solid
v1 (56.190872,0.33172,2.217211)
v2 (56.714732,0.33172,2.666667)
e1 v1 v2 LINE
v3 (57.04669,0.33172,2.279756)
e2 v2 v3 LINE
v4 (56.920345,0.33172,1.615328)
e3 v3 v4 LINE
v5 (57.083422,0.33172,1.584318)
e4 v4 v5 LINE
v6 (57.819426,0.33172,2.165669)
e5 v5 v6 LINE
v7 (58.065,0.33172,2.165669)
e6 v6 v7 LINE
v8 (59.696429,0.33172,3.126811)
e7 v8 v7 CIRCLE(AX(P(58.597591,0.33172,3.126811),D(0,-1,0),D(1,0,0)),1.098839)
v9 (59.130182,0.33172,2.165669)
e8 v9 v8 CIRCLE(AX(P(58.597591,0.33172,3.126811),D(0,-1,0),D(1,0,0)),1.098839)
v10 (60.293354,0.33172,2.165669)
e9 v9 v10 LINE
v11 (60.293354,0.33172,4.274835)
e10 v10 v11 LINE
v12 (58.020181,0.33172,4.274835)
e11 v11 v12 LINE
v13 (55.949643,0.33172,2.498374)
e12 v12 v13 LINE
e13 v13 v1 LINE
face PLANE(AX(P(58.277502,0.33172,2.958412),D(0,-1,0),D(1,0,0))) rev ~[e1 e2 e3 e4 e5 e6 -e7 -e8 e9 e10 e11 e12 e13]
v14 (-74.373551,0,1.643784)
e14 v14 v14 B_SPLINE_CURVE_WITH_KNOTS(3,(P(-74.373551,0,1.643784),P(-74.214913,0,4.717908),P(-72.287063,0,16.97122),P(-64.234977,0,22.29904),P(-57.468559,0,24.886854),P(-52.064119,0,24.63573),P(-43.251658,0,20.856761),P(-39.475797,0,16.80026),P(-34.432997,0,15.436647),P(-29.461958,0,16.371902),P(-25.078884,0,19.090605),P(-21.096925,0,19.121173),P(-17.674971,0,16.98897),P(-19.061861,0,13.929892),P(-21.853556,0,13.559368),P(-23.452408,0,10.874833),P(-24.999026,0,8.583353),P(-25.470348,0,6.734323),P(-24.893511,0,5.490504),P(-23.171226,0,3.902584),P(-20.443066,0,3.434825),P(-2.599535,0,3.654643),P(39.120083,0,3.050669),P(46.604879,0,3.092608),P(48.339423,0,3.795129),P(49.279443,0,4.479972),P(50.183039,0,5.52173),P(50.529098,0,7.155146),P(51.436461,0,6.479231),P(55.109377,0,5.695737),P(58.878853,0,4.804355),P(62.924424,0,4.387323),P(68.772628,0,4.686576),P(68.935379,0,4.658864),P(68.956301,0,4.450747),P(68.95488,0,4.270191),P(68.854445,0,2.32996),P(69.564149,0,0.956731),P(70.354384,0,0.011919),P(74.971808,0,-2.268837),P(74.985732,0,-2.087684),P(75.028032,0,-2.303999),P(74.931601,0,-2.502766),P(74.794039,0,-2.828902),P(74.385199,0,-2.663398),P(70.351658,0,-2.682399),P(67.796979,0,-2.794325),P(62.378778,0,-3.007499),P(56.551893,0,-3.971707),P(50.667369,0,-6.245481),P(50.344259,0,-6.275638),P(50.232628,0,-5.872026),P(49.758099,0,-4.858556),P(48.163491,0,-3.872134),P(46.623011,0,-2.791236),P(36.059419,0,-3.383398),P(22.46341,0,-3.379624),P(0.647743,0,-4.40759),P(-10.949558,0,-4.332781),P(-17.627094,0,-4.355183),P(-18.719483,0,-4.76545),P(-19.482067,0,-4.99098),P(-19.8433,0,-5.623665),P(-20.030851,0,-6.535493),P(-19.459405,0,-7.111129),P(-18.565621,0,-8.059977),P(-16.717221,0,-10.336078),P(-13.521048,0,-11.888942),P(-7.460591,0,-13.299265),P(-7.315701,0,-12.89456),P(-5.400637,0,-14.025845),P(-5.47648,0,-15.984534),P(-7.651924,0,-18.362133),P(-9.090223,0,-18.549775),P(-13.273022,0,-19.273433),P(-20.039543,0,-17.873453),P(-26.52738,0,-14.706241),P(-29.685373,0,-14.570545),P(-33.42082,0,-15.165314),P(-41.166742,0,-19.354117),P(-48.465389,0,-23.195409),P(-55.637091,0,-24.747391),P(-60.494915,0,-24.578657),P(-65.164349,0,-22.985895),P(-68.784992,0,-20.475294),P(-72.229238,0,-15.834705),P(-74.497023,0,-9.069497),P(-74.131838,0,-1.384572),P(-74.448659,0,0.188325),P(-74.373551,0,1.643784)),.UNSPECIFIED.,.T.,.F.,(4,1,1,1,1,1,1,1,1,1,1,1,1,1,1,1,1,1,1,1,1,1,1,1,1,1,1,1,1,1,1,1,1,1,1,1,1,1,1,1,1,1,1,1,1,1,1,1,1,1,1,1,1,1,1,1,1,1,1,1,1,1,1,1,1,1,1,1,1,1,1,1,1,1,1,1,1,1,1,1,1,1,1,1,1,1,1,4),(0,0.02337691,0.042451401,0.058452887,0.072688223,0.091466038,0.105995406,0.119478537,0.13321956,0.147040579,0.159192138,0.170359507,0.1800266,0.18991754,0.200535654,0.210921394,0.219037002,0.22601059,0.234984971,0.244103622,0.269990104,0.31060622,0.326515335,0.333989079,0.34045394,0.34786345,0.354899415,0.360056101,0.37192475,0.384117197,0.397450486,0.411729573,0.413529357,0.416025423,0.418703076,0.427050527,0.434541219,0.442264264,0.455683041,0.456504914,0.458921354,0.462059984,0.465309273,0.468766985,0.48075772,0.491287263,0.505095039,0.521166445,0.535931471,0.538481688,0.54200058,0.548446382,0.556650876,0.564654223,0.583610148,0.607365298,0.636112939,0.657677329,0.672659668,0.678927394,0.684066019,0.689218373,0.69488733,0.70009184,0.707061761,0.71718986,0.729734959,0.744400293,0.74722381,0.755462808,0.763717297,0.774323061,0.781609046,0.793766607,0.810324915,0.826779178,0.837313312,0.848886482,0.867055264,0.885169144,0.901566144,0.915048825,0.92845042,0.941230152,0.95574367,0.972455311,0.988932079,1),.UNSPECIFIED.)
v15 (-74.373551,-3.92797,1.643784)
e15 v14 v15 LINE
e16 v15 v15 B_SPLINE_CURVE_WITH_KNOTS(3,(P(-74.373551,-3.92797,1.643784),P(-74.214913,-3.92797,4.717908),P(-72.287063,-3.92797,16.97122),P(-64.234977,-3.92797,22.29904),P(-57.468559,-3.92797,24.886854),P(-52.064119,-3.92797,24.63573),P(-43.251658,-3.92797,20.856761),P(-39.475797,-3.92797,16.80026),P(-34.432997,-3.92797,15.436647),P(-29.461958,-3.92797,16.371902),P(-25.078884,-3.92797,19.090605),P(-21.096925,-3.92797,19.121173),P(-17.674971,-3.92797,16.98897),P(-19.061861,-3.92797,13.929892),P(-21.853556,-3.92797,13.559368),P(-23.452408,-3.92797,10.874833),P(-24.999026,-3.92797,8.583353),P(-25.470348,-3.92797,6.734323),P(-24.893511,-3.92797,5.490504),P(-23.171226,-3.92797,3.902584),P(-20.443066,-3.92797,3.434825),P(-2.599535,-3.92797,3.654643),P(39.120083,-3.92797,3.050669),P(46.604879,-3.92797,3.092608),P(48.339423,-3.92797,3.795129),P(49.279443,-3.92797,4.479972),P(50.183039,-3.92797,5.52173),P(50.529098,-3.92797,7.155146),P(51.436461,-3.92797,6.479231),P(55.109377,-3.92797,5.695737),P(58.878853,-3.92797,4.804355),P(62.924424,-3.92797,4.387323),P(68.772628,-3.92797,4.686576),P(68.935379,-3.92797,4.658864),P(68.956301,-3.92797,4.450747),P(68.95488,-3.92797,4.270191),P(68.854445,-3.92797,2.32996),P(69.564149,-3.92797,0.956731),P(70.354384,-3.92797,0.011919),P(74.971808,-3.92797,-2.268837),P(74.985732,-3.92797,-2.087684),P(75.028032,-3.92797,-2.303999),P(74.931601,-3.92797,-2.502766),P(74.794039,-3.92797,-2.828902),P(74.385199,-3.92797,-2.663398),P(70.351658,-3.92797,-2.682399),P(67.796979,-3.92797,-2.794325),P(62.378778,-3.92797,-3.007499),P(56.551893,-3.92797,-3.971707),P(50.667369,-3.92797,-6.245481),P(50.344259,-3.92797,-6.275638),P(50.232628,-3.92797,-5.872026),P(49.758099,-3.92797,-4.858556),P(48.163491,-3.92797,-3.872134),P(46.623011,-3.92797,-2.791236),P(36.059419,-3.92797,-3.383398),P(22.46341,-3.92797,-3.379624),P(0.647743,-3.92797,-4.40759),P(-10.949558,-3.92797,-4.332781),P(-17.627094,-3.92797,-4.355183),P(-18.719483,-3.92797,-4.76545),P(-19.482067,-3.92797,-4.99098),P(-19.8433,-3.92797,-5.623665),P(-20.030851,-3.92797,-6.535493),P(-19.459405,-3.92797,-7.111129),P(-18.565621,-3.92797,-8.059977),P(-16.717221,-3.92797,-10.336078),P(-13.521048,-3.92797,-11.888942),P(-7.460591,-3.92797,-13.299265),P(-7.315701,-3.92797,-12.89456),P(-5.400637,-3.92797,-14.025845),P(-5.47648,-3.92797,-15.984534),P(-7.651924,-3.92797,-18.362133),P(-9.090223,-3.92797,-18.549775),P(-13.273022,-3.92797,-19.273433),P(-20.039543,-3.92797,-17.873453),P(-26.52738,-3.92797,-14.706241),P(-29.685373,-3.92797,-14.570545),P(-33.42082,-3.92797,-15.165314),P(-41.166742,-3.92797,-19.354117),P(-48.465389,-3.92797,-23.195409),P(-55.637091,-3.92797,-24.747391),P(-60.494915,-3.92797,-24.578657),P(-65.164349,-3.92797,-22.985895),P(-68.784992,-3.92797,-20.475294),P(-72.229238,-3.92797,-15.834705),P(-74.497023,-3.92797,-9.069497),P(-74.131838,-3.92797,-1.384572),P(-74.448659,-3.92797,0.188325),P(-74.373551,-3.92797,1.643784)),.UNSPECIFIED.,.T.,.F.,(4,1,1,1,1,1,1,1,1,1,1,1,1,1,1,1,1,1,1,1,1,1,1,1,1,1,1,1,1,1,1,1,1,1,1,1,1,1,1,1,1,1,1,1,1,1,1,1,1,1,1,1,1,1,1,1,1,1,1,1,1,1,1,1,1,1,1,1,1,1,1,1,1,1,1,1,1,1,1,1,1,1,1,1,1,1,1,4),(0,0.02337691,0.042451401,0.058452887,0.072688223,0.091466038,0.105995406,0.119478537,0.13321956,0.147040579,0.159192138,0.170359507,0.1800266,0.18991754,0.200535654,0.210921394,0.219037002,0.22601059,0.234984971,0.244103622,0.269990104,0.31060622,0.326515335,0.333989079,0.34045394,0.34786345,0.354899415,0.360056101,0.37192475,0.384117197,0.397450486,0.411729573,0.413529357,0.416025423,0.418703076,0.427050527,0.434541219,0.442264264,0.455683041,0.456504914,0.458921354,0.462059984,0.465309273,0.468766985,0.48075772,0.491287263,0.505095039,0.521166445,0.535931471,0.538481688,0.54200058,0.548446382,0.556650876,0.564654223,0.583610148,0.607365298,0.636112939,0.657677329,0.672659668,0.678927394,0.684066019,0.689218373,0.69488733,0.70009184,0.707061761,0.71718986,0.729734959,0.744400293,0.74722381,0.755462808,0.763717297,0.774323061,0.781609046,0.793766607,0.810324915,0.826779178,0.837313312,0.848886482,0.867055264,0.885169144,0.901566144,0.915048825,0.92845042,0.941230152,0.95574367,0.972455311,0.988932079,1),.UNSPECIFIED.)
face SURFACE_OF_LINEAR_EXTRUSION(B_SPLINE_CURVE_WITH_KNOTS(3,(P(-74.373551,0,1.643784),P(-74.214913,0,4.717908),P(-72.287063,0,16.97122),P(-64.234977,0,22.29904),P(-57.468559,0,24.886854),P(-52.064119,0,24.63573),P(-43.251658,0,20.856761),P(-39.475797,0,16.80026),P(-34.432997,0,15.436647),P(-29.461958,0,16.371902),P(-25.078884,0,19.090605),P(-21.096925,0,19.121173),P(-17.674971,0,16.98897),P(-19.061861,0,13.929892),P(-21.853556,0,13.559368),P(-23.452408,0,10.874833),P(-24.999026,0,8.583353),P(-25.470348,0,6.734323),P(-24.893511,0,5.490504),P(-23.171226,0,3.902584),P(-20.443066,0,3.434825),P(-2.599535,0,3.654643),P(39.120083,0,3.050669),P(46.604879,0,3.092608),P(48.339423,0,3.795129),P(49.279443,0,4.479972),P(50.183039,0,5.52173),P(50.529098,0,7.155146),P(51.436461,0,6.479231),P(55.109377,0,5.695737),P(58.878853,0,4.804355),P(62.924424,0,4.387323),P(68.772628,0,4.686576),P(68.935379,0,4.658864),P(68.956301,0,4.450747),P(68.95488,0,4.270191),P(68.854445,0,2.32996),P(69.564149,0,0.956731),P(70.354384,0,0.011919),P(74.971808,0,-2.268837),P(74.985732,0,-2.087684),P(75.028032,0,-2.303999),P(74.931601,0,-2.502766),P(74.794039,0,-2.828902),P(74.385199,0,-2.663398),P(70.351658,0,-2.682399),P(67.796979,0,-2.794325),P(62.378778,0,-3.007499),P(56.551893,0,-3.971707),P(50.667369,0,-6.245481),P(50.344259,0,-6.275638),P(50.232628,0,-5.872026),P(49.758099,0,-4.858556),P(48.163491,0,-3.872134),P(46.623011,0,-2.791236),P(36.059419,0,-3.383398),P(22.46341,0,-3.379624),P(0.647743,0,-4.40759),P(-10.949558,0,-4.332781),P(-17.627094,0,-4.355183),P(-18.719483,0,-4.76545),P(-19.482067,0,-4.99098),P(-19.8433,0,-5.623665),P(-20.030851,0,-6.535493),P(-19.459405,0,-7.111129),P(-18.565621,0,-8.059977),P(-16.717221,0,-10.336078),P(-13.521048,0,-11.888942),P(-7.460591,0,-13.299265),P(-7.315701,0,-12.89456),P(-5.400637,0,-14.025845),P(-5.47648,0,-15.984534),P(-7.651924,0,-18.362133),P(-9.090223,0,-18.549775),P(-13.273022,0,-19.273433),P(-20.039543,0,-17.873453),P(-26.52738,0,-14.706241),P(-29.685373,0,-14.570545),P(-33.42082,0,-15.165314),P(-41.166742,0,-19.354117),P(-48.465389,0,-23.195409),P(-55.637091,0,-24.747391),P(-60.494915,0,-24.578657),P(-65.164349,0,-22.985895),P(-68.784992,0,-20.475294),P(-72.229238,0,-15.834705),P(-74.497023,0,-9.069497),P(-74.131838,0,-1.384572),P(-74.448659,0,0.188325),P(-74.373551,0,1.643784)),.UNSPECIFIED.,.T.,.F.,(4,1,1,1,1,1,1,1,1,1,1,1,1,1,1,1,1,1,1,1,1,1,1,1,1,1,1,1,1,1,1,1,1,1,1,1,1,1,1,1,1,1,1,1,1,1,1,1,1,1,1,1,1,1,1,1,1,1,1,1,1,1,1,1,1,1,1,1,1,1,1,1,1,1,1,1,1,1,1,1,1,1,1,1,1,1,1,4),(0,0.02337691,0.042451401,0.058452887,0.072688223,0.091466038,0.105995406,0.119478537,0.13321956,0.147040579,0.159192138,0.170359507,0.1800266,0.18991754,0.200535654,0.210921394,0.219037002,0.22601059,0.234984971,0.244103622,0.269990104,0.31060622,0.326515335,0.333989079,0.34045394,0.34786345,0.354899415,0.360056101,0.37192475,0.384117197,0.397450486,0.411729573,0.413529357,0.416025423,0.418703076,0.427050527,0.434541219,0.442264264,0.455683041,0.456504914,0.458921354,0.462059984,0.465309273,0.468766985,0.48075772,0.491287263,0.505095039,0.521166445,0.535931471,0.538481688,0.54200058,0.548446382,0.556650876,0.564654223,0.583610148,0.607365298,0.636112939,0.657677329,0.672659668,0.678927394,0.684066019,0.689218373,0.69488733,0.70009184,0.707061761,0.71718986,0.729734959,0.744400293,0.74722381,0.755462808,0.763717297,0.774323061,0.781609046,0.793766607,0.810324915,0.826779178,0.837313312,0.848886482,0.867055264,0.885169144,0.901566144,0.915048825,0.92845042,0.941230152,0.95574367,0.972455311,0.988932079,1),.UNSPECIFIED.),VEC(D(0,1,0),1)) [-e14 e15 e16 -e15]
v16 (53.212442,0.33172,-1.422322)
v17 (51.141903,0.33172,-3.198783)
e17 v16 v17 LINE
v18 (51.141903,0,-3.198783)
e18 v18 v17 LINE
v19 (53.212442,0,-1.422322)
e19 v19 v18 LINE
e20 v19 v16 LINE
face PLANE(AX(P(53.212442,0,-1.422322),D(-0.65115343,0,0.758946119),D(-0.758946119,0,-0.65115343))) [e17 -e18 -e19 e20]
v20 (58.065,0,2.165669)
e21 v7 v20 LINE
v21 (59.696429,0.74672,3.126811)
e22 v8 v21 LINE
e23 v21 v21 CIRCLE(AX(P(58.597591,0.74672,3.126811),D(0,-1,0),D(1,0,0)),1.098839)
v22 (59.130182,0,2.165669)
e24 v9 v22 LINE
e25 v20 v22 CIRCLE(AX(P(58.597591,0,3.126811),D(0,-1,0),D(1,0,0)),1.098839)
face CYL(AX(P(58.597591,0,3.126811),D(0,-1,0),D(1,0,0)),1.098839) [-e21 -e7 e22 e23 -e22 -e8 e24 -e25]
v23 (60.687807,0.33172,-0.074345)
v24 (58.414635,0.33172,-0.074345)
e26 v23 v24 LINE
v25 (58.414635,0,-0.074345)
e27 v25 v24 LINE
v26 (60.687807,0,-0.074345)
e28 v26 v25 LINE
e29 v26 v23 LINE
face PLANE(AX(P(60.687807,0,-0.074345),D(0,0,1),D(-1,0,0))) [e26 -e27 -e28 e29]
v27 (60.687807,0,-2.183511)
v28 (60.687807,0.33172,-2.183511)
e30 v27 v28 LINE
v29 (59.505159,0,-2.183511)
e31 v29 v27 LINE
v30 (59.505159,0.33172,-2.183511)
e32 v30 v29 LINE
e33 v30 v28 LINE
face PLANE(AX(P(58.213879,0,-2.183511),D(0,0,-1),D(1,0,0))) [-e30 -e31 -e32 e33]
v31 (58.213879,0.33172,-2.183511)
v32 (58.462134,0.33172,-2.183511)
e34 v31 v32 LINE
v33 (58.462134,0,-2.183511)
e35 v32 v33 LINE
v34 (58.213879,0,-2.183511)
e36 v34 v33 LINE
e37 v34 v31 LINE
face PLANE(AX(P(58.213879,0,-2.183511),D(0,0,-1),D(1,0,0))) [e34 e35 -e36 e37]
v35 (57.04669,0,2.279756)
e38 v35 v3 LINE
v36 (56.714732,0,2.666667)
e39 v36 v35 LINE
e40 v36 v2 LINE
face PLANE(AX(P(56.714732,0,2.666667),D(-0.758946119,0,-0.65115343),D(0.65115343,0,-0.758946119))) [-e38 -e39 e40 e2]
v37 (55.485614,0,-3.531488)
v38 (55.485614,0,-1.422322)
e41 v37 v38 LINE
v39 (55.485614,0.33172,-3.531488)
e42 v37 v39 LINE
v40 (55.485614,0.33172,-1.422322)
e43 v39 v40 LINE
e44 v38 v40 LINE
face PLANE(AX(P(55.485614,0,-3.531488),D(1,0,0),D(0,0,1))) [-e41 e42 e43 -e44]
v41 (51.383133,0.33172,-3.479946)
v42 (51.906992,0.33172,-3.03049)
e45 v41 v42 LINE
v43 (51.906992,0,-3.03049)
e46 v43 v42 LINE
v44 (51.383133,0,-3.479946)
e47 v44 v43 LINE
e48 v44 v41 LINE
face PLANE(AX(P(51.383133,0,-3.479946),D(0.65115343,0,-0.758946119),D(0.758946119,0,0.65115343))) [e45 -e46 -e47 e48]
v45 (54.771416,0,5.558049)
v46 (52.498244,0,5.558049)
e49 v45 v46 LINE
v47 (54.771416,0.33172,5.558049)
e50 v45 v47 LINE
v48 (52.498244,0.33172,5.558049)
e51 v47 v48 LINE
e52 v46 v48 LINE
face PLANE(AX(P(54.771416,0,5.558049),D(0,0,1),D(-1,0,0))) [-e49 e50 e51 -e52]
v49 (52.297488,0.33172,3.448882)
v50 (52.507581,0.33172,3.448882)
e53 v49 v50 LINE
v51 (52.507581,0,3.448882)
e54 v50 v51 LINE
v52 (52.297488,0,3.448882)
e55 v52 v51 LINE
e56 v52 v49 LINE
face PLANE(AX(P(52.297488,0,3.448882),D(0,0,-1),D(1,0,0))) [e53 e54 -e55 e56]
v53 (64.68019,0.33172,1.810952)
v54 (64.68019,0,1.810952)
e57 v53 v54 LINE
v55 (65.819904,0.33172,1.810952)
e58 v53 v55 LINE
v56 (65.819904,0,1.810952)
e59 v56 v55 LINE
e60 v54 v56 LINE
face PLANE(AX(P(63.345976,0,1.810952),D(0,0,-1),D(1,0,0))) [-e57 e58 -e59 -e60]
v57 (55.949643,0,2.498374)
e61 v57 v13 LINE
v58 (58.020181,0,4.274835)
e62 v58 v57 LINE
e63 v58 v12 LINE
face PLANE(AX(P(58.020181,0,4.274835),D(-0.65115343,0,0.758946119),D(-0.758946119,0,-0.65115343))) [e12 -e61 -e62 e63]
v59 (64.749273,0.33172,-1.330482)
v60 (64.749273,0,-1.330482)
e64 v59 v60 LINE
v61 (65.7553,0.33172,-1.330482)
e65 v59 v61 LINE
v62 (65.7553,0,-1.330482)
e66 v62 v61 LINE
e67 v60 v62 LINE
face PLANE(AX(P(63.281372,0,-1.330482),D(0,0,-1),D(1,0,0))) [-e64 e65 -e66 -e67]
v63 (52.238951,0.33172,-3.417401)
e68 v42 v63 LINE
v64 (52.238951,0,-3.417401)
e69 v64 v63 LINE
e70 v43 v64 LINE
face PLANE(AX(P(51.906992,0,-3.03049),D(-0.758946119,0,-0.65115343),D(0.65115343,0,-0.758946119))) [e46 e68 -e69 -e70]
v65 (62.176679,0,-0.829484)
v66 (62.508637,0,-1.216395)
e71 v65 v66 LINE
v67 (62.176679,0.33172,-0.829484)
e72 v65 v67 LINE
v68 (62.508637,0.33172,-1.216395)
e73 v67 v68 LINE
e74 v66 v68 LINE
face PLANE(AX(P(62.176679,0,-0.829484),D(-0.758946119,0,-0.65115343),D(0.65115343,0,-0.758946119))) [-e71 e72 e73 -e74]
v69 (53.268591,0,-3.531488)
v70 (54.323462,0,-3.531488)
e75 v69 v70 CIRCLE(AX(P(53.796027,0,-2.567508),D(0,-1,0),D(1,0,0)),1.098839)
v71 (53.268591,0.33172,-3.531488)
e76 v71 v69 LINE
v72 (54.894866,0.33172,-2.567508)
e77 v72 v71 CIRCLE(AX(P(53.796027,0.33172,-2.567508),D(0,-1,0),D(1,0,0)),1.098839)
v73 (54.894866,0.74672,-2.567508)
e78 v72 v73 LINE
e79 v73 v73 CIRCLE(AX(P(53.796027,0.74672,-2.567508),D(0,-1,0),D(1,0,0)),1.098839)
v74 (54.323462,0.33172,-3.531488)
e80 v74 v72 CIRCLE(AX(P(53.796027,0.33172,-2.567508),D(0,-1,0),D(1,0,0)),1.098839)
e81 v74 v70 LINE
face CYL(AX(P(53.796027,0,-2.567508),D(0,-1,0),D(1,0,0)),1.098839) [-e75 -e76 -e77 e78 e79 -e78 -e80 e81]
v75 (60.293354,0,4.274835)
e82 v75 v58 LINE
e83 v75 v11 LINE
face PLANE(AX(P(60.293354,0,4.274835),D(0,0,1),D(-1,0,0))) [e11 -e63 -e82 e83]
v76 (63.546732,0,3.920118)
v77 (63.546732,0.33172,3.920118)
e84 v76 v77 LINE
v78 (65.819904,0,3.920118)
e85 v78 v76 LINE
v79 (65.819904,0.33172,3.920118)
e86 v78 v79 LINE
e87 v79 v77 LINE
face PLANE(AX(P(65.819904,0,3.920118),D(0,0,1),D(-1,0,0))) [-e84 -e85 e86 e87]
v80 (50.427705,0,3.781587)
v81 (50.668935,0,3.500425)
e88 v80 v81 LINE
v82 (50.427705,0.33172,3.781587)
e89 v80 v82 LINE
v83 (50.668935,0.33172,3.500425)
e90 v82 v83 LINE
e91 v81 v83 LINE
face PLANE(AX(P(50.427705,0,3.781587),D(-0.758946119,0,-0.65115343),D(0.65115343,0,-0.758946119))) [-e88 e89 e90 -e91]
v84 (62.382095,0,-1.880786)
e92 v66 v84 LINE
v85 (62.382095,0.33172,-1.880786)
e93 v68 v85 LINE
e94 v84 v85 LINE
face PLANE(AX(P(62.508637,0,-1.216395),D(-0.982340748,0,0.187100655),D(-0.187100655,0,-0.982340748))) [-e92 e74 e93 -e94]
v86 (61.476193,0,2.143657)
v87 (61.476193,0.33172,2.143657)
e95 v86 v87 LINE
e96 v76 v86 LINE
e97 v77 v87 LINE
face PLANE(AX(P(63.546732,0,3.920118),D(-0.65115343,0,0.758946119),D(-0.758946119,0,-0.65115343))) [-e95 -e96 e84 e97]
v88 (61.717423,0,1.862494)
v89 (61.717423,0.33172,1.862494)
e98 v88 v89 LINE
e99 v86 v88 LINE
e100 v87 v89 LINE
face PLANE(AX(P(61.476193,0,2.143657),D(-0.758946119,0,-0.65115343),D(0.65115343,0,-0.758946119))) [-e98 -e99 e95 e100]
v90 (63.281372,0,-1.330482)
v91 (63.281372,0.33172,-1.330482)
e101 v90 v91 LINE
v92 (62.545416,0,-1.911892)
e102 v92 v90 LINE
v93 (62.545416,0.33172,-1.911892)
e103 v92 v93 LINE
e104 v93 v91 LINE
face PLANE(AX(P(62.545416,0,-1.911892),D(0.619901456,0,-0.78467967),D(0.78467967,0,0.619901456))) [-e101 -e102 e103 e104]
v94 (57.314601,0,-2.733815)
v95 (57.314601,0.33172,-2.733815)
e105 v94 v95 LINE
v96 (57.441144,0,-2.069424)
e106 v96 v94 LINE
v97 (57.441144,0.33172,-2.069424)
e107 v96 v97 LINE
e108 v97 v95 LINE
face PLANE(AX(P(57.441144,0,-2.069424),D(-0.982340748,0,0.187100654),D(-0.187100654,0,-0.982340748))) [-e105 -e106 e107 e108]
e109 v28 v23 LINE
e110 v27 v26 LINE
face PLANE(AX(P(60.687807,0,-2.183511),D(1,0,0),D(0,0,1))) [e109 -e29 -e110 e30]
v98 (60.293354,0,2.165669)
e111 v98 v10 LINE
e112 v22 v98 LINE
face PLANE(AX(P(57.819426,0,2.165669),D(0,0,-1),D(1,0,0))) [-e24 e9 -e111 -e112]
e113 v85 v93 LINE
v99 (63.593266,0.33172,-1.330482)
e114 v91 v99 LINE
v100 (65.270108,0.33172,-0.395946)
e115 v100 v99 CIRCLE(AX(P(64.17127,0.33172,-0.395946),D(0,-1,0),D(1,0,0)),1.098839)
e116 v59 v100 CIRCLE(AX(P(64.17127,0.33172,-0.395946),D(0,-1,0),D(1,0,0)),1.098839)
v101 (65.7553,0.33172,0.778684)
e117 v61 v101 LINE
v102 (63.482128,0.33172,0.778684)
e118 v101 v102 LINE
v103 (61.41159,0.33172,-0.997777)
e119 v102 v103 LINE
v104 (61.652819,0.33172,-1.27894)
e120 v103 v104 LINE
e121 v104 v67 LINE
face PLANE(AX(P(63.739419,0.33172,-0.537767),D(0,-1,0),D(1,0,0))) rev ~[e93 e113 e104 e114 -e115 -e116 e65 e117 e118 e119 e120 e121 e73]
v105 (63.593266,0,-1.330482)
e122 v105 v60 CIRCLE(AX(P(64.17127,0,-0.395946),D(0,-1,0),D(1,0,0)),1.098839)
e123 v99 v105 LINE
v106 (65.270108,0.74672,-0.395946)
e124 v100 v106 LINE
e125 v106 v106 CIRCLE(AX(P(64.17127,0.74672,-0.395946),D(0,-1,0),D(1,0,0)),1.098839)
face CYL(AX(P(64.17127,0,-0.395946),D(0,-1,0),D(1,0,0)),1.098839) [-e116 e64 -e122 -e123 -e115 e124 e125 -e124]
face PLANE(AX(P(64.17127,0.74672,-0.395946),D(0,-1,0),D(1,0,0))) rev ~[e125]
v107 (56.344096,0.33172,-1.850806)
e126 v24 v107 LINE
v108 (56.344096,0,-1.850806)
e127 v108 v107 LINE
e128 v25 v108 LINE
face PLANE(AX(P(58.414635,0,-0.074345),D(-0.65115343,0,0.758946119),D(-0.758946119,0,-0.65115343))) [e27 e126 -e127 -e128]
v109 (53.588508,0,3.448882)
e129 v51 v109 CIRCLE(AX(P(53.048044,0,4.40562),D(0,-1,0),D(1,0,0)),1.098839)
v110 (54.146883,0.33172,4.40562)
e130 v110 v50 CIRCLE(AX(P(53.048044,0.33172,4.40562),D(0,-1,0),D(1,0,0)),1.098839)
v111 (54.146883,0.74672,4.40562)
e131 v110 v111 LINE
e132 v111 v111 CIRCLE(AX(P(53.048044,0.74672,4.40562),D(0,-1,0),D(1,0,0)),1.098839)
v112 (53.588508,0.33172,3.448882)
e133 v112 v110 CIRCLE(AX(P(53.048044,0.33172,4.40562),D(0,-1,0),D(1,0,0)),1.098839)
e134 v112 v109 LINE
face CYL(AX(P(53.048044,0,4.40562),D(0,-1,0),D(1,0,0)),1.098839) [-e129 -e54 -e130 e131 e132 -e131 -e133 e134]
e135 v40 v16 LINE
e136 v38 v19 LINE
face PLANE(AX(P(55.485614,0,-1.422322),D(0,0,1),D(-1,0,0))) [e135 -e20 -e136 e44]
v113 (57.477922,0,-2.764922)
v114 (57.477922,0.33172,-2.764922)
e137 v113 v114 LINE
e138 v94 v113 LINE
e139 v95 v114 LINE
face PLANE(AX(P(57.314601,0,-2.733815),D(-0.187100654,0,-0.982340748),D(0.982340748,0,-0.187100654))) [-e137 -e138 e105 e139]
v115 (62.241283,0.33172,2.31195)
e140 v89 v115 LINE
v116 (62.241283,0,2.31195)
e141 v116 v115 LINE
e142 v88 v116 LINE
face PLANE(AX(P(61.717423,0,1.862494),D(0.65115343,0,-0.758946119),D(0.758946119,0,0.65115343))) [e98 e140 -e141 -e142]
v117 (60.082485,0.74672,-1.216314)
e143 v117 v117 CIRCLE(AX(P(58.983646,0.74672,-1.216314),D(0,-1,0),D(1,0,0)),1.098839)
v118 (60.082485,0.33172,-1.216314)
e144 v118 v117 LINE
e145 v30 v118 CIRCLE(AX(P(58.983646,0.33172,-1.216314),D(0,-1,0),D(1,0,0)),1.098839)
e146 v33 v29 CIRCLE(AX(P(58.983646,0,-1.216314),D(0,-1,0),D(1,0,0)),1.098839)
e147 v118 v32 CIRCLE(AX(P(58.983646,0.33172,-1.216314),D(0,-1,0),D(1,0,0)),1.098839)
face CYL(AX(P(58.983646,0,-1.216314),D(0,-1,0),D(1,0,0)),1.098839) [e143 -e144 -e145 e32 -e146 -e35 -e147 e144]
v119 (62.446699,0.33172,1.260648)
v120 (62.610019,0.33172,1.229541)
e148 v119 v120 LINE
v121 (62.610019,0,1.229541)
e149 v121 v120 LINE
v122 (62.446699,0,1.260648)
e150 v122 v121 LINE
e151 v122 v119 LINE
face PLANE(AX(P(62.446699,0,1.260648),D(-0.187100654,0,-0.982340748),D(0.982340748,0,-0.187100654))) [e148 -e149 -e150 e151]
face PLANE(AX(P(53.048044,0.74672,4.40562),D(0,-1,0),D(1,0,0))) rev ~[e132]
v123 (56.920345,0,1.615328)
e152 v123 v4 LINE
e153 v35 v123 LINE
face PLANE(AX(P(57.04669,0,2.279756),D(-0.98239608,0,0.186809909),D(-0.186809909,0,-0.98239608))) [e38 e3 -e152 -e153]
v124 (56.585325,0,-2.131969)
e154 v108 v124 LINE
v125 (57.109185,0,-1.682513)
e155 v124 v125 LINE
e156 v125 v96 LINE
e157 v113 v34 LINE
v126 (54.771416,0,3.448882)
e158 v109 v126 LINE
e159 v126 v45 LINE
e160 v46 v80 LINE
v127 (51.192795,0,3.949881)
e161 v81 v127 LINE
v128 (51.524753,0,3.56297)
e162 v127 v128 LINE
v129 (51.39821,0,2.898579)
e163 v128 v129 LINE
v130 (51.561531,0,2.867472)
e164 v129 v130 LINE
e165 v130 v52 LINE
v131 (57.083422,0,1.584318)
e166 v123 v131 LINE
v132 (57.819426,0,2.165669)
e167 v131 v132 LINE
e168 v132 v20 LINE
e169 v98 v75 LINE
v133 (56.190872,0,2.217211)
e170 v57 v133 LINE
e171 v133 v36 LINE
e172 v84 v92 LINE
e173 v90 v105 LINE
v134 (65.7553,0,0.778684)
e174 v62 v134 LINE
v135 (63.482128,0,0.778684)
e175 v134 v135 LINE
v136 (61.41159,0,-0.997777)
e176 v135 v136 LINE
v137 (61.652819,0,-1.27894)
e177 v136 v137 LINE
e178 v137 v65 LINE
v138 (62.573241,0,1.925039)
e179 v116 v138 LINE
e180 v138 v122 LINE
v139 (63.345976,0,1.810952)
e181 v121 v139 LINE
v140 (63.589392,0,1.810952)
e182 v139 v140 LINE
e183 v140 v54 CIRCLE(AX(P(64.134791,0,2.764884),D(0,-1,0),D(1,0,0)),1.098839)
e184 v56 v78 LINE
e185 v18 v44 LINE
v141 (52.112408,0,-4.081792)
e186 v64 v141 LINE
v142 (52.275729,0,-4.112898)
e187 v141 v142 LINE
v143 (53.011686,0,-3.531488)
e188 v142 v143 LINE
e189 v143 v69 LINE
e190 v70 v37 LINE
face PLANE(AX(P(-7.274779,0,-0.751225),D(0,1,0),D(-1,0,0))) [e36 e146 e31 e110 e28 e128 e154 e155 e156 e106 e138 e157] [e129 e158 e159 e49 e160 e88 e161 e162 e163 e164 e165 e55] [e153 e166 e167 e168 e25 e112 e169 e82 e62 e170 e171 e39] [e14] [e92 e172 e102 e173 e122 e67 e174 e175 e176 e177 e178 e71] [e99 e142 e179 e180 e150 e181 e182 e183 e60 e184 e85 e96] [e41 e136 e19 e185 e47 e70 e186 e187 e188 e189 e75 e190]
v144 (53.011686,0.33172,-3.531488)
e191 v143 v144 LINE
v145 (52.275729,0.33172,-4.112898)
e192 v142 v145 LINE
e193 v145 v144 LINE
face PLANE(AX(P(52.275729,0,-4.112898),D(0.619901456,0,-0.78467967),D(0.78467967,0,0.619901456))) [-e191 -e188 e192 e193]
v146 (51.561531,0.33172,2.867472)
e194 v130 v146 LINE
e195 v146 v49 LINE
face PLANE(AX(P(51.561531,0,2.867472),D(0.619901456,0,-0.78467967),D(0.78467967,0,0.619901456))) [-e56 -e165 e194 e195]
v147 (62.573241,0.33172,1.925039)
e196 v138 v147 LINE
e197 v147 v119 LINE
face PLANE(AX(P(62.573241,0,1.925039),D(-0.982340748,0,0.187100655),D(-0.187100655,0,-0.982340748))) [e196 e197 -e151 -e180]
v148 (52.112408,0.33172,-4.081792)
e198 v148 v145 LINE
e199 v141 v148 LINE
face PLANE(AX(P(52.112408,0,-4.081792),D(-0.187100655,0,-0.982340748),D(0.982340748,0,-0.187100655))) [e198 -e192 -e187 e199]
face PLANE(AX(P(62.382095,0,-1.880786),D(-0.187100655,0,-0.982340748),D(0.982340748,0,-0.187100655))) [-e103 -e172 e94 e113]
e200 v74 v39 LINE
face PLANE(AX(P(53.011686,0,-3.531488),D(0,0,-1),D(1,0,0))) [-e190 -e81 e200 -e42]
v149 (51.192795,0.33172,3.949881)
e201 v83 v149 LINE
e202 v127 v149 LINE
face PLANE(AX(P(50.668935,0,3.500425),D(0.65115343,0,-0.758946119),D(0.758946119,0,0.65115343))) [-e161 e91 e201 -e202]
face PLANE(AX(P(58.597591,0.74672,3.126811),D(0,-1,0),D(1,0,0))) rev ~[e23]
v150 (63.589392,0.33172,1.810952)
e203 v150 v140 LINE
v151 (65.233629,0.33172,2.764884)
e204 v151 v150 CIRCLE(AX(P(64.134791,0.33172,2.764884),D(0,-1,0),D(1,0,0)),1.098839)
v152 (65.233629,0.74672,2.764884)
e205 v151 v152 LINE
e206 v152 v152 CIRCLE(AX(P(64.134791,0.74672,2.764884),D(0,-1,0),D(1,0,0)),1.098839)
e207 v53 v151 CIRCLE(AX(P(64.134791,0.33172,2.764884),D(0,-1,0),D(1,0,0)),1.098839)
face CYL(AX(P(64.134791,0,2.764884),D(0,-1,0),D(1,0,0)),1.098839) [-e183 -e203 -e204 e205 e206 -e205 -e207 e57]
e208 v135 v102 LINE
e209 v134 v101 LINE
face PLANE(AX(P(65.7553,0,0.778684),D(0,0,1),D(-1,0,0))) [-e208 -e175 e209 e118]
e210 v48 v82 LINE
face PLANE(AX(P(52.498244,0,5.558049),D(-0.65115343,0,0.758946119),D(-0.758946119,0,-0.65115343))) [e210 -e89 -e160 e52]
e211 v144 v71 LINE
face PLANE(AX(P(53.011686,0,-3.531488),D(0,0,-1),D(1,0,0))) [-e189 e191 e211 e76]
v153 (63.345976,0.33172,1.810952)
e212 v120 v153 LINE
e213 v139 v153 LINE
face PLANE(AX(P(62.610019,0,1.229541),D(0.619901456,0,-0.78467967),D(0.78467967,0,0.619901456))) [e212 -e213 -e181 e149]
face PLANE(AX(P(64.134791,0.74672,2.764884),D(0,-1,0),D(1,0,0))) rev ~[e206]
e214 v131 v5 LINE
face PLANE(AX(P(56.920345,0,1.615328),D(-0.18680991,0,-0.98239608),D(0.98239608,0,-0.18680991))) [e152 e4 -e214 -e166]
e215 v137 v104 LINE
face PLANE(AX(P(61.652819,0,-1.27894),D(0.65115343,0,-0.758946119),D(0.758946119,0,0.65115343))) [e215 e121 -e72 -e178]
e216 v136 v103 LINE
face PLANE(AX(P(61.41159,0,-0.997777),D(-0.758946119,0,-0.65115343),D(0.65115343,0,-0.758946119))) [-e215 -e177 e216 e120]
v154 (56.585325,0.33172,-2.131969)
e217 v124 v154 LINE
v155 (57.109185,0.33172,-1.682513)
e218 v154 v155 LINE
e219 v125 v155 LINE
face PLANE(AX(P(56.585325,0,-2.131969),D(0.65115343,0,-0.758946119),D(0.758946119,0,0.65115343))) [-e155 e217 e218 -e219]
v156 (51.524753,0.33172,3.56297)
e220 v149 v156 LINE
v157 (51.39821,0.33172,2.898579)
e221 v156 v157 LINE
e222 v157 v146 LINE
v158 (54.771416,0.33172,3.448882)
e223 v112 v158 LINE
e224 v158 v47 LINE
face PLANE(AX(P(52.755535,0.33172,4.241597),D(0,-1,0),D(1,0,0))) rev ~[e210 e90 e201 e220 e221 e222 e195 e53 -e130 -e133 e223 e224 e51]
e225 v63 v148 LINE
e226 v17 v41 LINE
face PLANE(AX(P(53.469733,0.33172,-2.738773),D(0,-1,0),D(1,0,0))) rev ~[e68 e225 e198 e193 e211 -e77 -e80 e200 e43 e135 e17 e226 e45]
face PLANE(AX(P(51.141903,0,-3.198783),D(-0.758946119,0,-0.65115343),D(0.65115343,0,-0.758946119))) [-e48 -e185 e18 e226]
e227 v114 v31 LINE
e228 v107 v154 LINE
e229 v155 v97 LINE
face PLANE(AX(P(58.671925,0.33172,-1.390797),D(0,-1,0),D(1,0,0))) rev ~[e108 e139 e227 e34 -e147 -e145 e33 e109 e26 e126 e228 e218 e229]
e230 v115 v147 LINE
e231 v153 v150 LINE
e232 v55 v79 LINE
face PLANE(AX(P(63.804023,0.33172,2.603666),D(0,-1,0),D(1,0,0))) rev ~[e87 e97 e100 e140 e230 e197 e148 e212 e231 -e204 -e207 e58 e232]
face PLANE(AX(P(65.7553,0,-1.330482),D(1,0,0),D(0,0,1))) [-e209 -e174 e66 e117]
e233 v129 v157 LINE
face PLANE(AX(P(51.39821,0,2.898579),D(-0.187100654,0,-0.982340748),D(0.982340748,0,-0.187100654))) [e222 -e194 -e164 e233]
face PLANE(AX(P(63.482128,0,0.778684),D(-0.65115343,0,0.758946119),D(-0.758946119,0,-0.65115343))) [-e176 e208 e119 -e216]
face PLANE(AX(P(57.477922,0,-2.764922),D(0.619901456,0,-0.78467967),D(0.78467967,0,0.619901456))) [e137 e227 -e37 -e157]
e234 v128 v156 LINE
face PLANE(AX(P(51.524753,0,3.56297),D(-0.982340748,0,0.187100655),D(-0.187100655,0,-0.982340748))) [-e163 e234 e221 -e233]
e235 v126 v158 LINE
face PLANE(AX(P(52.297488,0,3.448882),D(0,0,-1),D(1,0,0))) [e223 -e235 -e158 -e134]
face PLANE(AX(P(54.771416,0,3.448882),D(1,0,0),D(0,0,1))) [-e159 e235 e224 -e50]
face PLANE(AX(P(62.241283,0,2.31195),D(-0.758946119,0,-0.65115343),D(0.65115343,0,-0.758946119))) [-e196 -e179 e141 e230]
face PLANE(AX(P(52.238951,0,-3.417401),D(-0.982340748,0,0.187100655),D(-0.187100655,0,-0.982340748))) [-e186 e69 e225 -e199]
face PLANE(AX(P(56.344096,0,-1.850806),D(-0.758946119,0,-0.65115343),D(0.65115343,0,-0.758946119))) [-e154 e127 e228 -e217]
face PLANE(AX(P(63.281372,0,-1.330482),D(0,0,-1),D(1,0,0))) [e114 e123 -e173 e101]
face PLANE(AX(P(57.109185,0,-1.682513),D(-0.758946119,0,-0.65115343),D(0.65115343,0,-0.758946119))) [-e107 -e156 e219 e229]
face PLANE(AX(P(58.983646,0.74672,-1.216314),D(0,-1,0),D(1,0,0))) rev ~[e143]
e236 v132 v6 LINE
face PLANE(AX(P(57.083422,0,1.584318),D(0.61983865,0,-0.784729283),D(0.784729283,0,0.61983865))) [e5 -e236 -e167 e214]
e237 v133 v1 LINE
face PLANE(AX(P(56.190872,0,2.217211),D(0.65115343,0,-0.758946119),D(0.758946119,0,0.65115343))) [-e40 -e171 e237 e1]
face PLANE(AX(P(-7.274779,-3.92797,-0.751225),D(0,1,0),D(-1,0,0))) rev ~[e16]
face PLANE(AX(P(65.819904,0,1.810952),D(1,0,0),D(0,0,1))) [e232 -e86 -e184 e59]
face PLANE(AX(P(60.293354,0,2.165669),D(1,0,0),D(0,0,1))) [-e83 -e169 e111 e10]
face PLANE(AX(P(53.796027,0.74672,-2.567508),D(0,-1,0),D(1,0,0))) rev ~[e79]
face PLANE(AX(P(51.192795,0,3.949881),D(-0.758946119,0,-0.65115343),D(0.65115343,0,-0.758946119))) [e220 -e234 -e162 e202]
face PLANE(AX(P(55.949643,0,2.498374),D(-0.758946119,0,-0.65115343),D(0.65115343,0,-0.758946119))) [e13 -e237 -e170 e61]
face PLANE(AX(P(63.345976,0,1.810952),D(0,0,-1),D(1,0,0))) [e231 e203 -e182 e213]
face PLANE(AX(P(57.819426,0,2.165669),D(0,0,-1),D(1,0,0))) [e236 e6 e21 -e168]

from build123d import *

# Parameters (mm, degrees)
F1_DEPTH = 3.92797
F2_R     = 1.0988386966
F3_DEPTH = 0.74672
F5_DEPTH = 0.33172


with BuildPart() as f1:
    # F0 (on Front) → F1 (new body)
    with BuildSketch(Plane.XZ):
        with BuildLine():
            add(Edge.make_bspline(
                [(-74.3735507131, 1.6437844606), (-74.2149126214, 4.7179079977), (-72.2870634714, 16.9712199446), (-64.2349774652, 22.299039981), (-57.4685594848, 24.8868537343), (-52.0641188374, 24.6357297192), (-43.251658232, 20.8567613211), (-39.4757972803, 16.8002604728), (-34.4329974392, 15.4366468316), (-29.4619576852, 16.3719015505), (-25.0788837868, 19.0906054738), (-21.0969252198, 19.1211729725), (-17.6749706717, 16.9889698999), (-19.0618611023, 13.9298922814), (-21.8535561994, 13.5593675719), (-23.4524076493, 10.8748325001), (-24.9990259804, 8.5833526365), (-25.4703483239, 6.7343227547), (-24.8935107149, 5.4905043738), (-23.1712260622, 3.9025841656), (-20.443065527, 3.4348249604), (-2.5995352642, 3.6546427516), (39.1200827771, 3.050669171), (46.6048791658, 3.0926083809), (48.3394229812, 3.7951287784), (49.2794434406, 4.4799724358), (50.1830394562, 5.5217301816), (50.5290984376, 7.1551456398), (51.4364611844, 6.4792305201), (55.1093768529, 5.6957371067), (58.878852671, 4.8043550969), (62.9244238782, 4.3873232957), (68.772627519, 4.6865757341), (68.935378932, 4.6588644775), (68.956300802, 4.4507472329), (68.9548798914, 4.2701912921), (68.8544445063, 2.329960015), (69.5641494048, 0.9567307999), (70.354383955, 0.0119191151), (74.9718084473, -2.2688369285), (74.9857320784, -2.0876835258), (75.0280324135, -2.3039992489), (74.9316010317, -2.5027661136), (74.7940388613, -2.8289023538), (74.3851987455, -2.6633978439), (70.3516579195, -2.6823988544), (67.7969786002, -2.7943250017), (62.3787777854, -3.0074994523), (56.5518926691, -3.9717071653), (50.6673686103, -6.2454811935), (50.344258654, -6.2756384379), (50.2326277936, -5.8720256028), (49.7580991675, -4.8585560388), (48.1634906436, -3.8721339157), (46.6230106777, -2.7912359628), (36.0594189773, -3.3833984086), (22.4634098978, -3.3796242839), (0.6477426604, -4.4075895605), (-10.9495578279, -4.3327807015), (-17.6270942862, -4.355183013), (-18.7194833737, -4.7654495464), (-19.4820669622, -4.9909800102), (-19.8433002851, -5.6236654738), (-20.0308511409, -6.5354929742), (-19.4594049822, -7.1111292762), (-18.5656209365, -8.0599768961), (-16.7172205212, -10.3360776807), (-13.5210482607, -11.8889422283), (-7.460591292, -13.2992646662), (-7.315701401, -12.894560412), (-5.4006366062, -14.0258453322), (-5.4764799234, -15.9845336316), (-7.651924157, -18.362132974), (-9.0902234558, -18.5497752826), (-13.2730218611, -19.2734332464), (-20.0395427525, -17.8734529734), (-26.5273798058, -14.7062413252), (-29.6853725609, -14.5705446841), (-33.4208203948, -15.1653137926), (-41.1667421052, -19.3541165147), (-48.4653885083, -23.1954093317), (-55.6370912761, -24.7473906136), (-60.4949150004, -24.5786565463), (-65.164348508, -22.9858952958), (-68.7849924394, -20.4752935787), (-72.2292379336, -15.8347054457), (-74.49702309, -9.069496812), (-74.1318384524, -1.3845724701), (-74.4486587503, 0.1883245342), (-74.3735507131, 1.6437844606)],
                knots=[0, 0, 0, 0, 0.0233769102, 0.0424514014, 0.0584528868, 0.0726882229, 0.0914660378, 0.105995406, 0.1194785375, 0.1332195595, 0.1470405791, 0.1591921377, 0.1703595073, 0.1800266003, 0.1899175398, 0.2005356537, 0.2109213936, 0.2190370016, 0.2260105901, 0.2349849706, 0.2441036218, 0.2699901039, 0.3106062204, 0.3265153351, 0.3339890789, 0.3404539402, 0.3478634503, 0.3548994155, 0.360056101, 0.3719247503, 0.3841171969, 0.3974504859, 0.4117295728, 0.4135293568, 0.4160254232, 0.4187030762, 0.4270505271, 0.4345412194, 0.4422642638, 0.4556830413, 0.4565049137, 0.4589213535, 0.4620599836, 0.4653092731, 0.4687669848, 0.4807577205, 0.4912872633, 0.5050950385, 0.5211664449, 0.5359314713, 0.5384816885, 0.5420005795, 0.5484463823, 0.5566508758, 0.5646542229, 0.5836101479, 0.6073652979, 0.6361129394, 0.6576773291, 0.6726596679, 0.6789273941, 0.6840660192, 0.6892183732, 0.6948873302, 0.7000918396, 0.7070617615, 0.71718986, 0.7297349588, 0.744400293, 0.7472238105, 0.755462808, 0.7637172966, 0.774323061, 0.7816090457, 0.7937666067, 0.8103249147, 0.8267791783, 0.837313312, 0.8488864824, 0.8670552636, 0.8851691444, 0.9015661442, 0.9150488246, 0.9284504204, 0.9412301519, 0.9557436703, 0.9724553113, 0.9889320792, 1, 1, 1, 1], degree=3))
        make_face()
    extrude(amount=F1_DEPTH)

    # F2 (on Front) → F3 (join)
    with BuildSketch(Plane.XZ):
        with Locations((64.1347907743, 2.764883684)):
            Circle(F2_R)
        with Locations((58.5975907743, 3.1268105377)):
            Circle(F2_R)
        with Locations((53.0480444431, 4.4056195766)):
            Circle(F2_R)
        with Locations((53.7960268557, -2.5675077923)):
            Circle(F2_R)
        with Locations((58.9836463332, -1.2163138017)):
            Circle(F2_R)
        with Locations((64.171269536, -0.3959457972)):
            Circle(F2_R)
    extrude(amount=-F3_DEPTH)

    # F4 (on Front) → F5 (join)
    with BuildSketch(Plane.XZ):
        Polygon((63.3459761739, 1.8109515077), (65.8199042082, 1.8109515077), (65.8199042082, 3.9201178588), (63.5467320681, 3.9201178588), (61.4761933684, 2.1436566021), (61.717422888, 1.86249367), (62.2412826394, 2.3119499166), (62.57324108, 1.9250386934), (62.4466985464, 1.2606482487), (62.6100194689, 1.2295414749), align=None)
        Polygon((57.8194255159, 2.1656688457), (60.2933535502, 2.1656688457), (60.2933535502, 4.2748351968), (58.02018141, 4.2748351968), (55.9496427104, 2.4983739401), (56.19087223, 2.217211008), (56.7147319814, 2.6666672546), (57.046690422, 2.2797560314), (56.9203445293, 1.6153281639), (57.0834222786, 1.5843177189), align=None)
        Polygon((52.297488126, 3.4488823419), (54.7714161603, 3.4488823419), (54.7714161603, 5.558048693), (52.4982440202, 5.558048693), (50.4277053206, 3.7815874364), (50.6689348401, 3.5004245042), (51.1927945916, 3.9498807508), (51.5247530321, 3.5629695276), (51.3982104985, 2.8985790829), (51.561531421, 2.8674723091), align=None)
        Polygon((53.0116858809, -3.531488301), (55.4856139152, -3.531488301), (55.4856139152, -1.4223219498), (53.212441775, -1.4223219498), (51.1419030754, -3.1987832065), (51.383132595, -3.4799461386), (51.9069923464, -3.030489892), (52.238950787, -3.4174011152), (52.1124082534, -4.0817915599), (52.2757291758, -4.1128983338), align=None)
        Polygon((58.213878694, -2.1835114769), (60.6878067283, -2.1835114769), (60.6878067283, -0.0743451258), (58.4146345882, -0.0743451258), (56.3440958886, -1.8508063825), (56.5853254081, -2.1319693146), (57.1091851596, -1.682513068), (57.4411436001, -2.0694242912), (57.3146010666, -2.7338147359), (57.477921989, -2.7649215097), align=None)
        Polygon((63.2813724606, -1.330482339), (65.7553004949, -1.330482339), (65.7553004949, 0.7786840122), (63.4821283548, 0.7786840122), (61.4115896551, -0.9977772445), (61.6528191747, -1.2789401766), (62.1766789261, -0.82948393), (62.5086373667, -1.2163951532), (62.3820948331, -1.8807855979), (62.5454157555, -1.9118923718), align=None)
    extrude(amount=-F5_DEPTH)


solid = f1.part
